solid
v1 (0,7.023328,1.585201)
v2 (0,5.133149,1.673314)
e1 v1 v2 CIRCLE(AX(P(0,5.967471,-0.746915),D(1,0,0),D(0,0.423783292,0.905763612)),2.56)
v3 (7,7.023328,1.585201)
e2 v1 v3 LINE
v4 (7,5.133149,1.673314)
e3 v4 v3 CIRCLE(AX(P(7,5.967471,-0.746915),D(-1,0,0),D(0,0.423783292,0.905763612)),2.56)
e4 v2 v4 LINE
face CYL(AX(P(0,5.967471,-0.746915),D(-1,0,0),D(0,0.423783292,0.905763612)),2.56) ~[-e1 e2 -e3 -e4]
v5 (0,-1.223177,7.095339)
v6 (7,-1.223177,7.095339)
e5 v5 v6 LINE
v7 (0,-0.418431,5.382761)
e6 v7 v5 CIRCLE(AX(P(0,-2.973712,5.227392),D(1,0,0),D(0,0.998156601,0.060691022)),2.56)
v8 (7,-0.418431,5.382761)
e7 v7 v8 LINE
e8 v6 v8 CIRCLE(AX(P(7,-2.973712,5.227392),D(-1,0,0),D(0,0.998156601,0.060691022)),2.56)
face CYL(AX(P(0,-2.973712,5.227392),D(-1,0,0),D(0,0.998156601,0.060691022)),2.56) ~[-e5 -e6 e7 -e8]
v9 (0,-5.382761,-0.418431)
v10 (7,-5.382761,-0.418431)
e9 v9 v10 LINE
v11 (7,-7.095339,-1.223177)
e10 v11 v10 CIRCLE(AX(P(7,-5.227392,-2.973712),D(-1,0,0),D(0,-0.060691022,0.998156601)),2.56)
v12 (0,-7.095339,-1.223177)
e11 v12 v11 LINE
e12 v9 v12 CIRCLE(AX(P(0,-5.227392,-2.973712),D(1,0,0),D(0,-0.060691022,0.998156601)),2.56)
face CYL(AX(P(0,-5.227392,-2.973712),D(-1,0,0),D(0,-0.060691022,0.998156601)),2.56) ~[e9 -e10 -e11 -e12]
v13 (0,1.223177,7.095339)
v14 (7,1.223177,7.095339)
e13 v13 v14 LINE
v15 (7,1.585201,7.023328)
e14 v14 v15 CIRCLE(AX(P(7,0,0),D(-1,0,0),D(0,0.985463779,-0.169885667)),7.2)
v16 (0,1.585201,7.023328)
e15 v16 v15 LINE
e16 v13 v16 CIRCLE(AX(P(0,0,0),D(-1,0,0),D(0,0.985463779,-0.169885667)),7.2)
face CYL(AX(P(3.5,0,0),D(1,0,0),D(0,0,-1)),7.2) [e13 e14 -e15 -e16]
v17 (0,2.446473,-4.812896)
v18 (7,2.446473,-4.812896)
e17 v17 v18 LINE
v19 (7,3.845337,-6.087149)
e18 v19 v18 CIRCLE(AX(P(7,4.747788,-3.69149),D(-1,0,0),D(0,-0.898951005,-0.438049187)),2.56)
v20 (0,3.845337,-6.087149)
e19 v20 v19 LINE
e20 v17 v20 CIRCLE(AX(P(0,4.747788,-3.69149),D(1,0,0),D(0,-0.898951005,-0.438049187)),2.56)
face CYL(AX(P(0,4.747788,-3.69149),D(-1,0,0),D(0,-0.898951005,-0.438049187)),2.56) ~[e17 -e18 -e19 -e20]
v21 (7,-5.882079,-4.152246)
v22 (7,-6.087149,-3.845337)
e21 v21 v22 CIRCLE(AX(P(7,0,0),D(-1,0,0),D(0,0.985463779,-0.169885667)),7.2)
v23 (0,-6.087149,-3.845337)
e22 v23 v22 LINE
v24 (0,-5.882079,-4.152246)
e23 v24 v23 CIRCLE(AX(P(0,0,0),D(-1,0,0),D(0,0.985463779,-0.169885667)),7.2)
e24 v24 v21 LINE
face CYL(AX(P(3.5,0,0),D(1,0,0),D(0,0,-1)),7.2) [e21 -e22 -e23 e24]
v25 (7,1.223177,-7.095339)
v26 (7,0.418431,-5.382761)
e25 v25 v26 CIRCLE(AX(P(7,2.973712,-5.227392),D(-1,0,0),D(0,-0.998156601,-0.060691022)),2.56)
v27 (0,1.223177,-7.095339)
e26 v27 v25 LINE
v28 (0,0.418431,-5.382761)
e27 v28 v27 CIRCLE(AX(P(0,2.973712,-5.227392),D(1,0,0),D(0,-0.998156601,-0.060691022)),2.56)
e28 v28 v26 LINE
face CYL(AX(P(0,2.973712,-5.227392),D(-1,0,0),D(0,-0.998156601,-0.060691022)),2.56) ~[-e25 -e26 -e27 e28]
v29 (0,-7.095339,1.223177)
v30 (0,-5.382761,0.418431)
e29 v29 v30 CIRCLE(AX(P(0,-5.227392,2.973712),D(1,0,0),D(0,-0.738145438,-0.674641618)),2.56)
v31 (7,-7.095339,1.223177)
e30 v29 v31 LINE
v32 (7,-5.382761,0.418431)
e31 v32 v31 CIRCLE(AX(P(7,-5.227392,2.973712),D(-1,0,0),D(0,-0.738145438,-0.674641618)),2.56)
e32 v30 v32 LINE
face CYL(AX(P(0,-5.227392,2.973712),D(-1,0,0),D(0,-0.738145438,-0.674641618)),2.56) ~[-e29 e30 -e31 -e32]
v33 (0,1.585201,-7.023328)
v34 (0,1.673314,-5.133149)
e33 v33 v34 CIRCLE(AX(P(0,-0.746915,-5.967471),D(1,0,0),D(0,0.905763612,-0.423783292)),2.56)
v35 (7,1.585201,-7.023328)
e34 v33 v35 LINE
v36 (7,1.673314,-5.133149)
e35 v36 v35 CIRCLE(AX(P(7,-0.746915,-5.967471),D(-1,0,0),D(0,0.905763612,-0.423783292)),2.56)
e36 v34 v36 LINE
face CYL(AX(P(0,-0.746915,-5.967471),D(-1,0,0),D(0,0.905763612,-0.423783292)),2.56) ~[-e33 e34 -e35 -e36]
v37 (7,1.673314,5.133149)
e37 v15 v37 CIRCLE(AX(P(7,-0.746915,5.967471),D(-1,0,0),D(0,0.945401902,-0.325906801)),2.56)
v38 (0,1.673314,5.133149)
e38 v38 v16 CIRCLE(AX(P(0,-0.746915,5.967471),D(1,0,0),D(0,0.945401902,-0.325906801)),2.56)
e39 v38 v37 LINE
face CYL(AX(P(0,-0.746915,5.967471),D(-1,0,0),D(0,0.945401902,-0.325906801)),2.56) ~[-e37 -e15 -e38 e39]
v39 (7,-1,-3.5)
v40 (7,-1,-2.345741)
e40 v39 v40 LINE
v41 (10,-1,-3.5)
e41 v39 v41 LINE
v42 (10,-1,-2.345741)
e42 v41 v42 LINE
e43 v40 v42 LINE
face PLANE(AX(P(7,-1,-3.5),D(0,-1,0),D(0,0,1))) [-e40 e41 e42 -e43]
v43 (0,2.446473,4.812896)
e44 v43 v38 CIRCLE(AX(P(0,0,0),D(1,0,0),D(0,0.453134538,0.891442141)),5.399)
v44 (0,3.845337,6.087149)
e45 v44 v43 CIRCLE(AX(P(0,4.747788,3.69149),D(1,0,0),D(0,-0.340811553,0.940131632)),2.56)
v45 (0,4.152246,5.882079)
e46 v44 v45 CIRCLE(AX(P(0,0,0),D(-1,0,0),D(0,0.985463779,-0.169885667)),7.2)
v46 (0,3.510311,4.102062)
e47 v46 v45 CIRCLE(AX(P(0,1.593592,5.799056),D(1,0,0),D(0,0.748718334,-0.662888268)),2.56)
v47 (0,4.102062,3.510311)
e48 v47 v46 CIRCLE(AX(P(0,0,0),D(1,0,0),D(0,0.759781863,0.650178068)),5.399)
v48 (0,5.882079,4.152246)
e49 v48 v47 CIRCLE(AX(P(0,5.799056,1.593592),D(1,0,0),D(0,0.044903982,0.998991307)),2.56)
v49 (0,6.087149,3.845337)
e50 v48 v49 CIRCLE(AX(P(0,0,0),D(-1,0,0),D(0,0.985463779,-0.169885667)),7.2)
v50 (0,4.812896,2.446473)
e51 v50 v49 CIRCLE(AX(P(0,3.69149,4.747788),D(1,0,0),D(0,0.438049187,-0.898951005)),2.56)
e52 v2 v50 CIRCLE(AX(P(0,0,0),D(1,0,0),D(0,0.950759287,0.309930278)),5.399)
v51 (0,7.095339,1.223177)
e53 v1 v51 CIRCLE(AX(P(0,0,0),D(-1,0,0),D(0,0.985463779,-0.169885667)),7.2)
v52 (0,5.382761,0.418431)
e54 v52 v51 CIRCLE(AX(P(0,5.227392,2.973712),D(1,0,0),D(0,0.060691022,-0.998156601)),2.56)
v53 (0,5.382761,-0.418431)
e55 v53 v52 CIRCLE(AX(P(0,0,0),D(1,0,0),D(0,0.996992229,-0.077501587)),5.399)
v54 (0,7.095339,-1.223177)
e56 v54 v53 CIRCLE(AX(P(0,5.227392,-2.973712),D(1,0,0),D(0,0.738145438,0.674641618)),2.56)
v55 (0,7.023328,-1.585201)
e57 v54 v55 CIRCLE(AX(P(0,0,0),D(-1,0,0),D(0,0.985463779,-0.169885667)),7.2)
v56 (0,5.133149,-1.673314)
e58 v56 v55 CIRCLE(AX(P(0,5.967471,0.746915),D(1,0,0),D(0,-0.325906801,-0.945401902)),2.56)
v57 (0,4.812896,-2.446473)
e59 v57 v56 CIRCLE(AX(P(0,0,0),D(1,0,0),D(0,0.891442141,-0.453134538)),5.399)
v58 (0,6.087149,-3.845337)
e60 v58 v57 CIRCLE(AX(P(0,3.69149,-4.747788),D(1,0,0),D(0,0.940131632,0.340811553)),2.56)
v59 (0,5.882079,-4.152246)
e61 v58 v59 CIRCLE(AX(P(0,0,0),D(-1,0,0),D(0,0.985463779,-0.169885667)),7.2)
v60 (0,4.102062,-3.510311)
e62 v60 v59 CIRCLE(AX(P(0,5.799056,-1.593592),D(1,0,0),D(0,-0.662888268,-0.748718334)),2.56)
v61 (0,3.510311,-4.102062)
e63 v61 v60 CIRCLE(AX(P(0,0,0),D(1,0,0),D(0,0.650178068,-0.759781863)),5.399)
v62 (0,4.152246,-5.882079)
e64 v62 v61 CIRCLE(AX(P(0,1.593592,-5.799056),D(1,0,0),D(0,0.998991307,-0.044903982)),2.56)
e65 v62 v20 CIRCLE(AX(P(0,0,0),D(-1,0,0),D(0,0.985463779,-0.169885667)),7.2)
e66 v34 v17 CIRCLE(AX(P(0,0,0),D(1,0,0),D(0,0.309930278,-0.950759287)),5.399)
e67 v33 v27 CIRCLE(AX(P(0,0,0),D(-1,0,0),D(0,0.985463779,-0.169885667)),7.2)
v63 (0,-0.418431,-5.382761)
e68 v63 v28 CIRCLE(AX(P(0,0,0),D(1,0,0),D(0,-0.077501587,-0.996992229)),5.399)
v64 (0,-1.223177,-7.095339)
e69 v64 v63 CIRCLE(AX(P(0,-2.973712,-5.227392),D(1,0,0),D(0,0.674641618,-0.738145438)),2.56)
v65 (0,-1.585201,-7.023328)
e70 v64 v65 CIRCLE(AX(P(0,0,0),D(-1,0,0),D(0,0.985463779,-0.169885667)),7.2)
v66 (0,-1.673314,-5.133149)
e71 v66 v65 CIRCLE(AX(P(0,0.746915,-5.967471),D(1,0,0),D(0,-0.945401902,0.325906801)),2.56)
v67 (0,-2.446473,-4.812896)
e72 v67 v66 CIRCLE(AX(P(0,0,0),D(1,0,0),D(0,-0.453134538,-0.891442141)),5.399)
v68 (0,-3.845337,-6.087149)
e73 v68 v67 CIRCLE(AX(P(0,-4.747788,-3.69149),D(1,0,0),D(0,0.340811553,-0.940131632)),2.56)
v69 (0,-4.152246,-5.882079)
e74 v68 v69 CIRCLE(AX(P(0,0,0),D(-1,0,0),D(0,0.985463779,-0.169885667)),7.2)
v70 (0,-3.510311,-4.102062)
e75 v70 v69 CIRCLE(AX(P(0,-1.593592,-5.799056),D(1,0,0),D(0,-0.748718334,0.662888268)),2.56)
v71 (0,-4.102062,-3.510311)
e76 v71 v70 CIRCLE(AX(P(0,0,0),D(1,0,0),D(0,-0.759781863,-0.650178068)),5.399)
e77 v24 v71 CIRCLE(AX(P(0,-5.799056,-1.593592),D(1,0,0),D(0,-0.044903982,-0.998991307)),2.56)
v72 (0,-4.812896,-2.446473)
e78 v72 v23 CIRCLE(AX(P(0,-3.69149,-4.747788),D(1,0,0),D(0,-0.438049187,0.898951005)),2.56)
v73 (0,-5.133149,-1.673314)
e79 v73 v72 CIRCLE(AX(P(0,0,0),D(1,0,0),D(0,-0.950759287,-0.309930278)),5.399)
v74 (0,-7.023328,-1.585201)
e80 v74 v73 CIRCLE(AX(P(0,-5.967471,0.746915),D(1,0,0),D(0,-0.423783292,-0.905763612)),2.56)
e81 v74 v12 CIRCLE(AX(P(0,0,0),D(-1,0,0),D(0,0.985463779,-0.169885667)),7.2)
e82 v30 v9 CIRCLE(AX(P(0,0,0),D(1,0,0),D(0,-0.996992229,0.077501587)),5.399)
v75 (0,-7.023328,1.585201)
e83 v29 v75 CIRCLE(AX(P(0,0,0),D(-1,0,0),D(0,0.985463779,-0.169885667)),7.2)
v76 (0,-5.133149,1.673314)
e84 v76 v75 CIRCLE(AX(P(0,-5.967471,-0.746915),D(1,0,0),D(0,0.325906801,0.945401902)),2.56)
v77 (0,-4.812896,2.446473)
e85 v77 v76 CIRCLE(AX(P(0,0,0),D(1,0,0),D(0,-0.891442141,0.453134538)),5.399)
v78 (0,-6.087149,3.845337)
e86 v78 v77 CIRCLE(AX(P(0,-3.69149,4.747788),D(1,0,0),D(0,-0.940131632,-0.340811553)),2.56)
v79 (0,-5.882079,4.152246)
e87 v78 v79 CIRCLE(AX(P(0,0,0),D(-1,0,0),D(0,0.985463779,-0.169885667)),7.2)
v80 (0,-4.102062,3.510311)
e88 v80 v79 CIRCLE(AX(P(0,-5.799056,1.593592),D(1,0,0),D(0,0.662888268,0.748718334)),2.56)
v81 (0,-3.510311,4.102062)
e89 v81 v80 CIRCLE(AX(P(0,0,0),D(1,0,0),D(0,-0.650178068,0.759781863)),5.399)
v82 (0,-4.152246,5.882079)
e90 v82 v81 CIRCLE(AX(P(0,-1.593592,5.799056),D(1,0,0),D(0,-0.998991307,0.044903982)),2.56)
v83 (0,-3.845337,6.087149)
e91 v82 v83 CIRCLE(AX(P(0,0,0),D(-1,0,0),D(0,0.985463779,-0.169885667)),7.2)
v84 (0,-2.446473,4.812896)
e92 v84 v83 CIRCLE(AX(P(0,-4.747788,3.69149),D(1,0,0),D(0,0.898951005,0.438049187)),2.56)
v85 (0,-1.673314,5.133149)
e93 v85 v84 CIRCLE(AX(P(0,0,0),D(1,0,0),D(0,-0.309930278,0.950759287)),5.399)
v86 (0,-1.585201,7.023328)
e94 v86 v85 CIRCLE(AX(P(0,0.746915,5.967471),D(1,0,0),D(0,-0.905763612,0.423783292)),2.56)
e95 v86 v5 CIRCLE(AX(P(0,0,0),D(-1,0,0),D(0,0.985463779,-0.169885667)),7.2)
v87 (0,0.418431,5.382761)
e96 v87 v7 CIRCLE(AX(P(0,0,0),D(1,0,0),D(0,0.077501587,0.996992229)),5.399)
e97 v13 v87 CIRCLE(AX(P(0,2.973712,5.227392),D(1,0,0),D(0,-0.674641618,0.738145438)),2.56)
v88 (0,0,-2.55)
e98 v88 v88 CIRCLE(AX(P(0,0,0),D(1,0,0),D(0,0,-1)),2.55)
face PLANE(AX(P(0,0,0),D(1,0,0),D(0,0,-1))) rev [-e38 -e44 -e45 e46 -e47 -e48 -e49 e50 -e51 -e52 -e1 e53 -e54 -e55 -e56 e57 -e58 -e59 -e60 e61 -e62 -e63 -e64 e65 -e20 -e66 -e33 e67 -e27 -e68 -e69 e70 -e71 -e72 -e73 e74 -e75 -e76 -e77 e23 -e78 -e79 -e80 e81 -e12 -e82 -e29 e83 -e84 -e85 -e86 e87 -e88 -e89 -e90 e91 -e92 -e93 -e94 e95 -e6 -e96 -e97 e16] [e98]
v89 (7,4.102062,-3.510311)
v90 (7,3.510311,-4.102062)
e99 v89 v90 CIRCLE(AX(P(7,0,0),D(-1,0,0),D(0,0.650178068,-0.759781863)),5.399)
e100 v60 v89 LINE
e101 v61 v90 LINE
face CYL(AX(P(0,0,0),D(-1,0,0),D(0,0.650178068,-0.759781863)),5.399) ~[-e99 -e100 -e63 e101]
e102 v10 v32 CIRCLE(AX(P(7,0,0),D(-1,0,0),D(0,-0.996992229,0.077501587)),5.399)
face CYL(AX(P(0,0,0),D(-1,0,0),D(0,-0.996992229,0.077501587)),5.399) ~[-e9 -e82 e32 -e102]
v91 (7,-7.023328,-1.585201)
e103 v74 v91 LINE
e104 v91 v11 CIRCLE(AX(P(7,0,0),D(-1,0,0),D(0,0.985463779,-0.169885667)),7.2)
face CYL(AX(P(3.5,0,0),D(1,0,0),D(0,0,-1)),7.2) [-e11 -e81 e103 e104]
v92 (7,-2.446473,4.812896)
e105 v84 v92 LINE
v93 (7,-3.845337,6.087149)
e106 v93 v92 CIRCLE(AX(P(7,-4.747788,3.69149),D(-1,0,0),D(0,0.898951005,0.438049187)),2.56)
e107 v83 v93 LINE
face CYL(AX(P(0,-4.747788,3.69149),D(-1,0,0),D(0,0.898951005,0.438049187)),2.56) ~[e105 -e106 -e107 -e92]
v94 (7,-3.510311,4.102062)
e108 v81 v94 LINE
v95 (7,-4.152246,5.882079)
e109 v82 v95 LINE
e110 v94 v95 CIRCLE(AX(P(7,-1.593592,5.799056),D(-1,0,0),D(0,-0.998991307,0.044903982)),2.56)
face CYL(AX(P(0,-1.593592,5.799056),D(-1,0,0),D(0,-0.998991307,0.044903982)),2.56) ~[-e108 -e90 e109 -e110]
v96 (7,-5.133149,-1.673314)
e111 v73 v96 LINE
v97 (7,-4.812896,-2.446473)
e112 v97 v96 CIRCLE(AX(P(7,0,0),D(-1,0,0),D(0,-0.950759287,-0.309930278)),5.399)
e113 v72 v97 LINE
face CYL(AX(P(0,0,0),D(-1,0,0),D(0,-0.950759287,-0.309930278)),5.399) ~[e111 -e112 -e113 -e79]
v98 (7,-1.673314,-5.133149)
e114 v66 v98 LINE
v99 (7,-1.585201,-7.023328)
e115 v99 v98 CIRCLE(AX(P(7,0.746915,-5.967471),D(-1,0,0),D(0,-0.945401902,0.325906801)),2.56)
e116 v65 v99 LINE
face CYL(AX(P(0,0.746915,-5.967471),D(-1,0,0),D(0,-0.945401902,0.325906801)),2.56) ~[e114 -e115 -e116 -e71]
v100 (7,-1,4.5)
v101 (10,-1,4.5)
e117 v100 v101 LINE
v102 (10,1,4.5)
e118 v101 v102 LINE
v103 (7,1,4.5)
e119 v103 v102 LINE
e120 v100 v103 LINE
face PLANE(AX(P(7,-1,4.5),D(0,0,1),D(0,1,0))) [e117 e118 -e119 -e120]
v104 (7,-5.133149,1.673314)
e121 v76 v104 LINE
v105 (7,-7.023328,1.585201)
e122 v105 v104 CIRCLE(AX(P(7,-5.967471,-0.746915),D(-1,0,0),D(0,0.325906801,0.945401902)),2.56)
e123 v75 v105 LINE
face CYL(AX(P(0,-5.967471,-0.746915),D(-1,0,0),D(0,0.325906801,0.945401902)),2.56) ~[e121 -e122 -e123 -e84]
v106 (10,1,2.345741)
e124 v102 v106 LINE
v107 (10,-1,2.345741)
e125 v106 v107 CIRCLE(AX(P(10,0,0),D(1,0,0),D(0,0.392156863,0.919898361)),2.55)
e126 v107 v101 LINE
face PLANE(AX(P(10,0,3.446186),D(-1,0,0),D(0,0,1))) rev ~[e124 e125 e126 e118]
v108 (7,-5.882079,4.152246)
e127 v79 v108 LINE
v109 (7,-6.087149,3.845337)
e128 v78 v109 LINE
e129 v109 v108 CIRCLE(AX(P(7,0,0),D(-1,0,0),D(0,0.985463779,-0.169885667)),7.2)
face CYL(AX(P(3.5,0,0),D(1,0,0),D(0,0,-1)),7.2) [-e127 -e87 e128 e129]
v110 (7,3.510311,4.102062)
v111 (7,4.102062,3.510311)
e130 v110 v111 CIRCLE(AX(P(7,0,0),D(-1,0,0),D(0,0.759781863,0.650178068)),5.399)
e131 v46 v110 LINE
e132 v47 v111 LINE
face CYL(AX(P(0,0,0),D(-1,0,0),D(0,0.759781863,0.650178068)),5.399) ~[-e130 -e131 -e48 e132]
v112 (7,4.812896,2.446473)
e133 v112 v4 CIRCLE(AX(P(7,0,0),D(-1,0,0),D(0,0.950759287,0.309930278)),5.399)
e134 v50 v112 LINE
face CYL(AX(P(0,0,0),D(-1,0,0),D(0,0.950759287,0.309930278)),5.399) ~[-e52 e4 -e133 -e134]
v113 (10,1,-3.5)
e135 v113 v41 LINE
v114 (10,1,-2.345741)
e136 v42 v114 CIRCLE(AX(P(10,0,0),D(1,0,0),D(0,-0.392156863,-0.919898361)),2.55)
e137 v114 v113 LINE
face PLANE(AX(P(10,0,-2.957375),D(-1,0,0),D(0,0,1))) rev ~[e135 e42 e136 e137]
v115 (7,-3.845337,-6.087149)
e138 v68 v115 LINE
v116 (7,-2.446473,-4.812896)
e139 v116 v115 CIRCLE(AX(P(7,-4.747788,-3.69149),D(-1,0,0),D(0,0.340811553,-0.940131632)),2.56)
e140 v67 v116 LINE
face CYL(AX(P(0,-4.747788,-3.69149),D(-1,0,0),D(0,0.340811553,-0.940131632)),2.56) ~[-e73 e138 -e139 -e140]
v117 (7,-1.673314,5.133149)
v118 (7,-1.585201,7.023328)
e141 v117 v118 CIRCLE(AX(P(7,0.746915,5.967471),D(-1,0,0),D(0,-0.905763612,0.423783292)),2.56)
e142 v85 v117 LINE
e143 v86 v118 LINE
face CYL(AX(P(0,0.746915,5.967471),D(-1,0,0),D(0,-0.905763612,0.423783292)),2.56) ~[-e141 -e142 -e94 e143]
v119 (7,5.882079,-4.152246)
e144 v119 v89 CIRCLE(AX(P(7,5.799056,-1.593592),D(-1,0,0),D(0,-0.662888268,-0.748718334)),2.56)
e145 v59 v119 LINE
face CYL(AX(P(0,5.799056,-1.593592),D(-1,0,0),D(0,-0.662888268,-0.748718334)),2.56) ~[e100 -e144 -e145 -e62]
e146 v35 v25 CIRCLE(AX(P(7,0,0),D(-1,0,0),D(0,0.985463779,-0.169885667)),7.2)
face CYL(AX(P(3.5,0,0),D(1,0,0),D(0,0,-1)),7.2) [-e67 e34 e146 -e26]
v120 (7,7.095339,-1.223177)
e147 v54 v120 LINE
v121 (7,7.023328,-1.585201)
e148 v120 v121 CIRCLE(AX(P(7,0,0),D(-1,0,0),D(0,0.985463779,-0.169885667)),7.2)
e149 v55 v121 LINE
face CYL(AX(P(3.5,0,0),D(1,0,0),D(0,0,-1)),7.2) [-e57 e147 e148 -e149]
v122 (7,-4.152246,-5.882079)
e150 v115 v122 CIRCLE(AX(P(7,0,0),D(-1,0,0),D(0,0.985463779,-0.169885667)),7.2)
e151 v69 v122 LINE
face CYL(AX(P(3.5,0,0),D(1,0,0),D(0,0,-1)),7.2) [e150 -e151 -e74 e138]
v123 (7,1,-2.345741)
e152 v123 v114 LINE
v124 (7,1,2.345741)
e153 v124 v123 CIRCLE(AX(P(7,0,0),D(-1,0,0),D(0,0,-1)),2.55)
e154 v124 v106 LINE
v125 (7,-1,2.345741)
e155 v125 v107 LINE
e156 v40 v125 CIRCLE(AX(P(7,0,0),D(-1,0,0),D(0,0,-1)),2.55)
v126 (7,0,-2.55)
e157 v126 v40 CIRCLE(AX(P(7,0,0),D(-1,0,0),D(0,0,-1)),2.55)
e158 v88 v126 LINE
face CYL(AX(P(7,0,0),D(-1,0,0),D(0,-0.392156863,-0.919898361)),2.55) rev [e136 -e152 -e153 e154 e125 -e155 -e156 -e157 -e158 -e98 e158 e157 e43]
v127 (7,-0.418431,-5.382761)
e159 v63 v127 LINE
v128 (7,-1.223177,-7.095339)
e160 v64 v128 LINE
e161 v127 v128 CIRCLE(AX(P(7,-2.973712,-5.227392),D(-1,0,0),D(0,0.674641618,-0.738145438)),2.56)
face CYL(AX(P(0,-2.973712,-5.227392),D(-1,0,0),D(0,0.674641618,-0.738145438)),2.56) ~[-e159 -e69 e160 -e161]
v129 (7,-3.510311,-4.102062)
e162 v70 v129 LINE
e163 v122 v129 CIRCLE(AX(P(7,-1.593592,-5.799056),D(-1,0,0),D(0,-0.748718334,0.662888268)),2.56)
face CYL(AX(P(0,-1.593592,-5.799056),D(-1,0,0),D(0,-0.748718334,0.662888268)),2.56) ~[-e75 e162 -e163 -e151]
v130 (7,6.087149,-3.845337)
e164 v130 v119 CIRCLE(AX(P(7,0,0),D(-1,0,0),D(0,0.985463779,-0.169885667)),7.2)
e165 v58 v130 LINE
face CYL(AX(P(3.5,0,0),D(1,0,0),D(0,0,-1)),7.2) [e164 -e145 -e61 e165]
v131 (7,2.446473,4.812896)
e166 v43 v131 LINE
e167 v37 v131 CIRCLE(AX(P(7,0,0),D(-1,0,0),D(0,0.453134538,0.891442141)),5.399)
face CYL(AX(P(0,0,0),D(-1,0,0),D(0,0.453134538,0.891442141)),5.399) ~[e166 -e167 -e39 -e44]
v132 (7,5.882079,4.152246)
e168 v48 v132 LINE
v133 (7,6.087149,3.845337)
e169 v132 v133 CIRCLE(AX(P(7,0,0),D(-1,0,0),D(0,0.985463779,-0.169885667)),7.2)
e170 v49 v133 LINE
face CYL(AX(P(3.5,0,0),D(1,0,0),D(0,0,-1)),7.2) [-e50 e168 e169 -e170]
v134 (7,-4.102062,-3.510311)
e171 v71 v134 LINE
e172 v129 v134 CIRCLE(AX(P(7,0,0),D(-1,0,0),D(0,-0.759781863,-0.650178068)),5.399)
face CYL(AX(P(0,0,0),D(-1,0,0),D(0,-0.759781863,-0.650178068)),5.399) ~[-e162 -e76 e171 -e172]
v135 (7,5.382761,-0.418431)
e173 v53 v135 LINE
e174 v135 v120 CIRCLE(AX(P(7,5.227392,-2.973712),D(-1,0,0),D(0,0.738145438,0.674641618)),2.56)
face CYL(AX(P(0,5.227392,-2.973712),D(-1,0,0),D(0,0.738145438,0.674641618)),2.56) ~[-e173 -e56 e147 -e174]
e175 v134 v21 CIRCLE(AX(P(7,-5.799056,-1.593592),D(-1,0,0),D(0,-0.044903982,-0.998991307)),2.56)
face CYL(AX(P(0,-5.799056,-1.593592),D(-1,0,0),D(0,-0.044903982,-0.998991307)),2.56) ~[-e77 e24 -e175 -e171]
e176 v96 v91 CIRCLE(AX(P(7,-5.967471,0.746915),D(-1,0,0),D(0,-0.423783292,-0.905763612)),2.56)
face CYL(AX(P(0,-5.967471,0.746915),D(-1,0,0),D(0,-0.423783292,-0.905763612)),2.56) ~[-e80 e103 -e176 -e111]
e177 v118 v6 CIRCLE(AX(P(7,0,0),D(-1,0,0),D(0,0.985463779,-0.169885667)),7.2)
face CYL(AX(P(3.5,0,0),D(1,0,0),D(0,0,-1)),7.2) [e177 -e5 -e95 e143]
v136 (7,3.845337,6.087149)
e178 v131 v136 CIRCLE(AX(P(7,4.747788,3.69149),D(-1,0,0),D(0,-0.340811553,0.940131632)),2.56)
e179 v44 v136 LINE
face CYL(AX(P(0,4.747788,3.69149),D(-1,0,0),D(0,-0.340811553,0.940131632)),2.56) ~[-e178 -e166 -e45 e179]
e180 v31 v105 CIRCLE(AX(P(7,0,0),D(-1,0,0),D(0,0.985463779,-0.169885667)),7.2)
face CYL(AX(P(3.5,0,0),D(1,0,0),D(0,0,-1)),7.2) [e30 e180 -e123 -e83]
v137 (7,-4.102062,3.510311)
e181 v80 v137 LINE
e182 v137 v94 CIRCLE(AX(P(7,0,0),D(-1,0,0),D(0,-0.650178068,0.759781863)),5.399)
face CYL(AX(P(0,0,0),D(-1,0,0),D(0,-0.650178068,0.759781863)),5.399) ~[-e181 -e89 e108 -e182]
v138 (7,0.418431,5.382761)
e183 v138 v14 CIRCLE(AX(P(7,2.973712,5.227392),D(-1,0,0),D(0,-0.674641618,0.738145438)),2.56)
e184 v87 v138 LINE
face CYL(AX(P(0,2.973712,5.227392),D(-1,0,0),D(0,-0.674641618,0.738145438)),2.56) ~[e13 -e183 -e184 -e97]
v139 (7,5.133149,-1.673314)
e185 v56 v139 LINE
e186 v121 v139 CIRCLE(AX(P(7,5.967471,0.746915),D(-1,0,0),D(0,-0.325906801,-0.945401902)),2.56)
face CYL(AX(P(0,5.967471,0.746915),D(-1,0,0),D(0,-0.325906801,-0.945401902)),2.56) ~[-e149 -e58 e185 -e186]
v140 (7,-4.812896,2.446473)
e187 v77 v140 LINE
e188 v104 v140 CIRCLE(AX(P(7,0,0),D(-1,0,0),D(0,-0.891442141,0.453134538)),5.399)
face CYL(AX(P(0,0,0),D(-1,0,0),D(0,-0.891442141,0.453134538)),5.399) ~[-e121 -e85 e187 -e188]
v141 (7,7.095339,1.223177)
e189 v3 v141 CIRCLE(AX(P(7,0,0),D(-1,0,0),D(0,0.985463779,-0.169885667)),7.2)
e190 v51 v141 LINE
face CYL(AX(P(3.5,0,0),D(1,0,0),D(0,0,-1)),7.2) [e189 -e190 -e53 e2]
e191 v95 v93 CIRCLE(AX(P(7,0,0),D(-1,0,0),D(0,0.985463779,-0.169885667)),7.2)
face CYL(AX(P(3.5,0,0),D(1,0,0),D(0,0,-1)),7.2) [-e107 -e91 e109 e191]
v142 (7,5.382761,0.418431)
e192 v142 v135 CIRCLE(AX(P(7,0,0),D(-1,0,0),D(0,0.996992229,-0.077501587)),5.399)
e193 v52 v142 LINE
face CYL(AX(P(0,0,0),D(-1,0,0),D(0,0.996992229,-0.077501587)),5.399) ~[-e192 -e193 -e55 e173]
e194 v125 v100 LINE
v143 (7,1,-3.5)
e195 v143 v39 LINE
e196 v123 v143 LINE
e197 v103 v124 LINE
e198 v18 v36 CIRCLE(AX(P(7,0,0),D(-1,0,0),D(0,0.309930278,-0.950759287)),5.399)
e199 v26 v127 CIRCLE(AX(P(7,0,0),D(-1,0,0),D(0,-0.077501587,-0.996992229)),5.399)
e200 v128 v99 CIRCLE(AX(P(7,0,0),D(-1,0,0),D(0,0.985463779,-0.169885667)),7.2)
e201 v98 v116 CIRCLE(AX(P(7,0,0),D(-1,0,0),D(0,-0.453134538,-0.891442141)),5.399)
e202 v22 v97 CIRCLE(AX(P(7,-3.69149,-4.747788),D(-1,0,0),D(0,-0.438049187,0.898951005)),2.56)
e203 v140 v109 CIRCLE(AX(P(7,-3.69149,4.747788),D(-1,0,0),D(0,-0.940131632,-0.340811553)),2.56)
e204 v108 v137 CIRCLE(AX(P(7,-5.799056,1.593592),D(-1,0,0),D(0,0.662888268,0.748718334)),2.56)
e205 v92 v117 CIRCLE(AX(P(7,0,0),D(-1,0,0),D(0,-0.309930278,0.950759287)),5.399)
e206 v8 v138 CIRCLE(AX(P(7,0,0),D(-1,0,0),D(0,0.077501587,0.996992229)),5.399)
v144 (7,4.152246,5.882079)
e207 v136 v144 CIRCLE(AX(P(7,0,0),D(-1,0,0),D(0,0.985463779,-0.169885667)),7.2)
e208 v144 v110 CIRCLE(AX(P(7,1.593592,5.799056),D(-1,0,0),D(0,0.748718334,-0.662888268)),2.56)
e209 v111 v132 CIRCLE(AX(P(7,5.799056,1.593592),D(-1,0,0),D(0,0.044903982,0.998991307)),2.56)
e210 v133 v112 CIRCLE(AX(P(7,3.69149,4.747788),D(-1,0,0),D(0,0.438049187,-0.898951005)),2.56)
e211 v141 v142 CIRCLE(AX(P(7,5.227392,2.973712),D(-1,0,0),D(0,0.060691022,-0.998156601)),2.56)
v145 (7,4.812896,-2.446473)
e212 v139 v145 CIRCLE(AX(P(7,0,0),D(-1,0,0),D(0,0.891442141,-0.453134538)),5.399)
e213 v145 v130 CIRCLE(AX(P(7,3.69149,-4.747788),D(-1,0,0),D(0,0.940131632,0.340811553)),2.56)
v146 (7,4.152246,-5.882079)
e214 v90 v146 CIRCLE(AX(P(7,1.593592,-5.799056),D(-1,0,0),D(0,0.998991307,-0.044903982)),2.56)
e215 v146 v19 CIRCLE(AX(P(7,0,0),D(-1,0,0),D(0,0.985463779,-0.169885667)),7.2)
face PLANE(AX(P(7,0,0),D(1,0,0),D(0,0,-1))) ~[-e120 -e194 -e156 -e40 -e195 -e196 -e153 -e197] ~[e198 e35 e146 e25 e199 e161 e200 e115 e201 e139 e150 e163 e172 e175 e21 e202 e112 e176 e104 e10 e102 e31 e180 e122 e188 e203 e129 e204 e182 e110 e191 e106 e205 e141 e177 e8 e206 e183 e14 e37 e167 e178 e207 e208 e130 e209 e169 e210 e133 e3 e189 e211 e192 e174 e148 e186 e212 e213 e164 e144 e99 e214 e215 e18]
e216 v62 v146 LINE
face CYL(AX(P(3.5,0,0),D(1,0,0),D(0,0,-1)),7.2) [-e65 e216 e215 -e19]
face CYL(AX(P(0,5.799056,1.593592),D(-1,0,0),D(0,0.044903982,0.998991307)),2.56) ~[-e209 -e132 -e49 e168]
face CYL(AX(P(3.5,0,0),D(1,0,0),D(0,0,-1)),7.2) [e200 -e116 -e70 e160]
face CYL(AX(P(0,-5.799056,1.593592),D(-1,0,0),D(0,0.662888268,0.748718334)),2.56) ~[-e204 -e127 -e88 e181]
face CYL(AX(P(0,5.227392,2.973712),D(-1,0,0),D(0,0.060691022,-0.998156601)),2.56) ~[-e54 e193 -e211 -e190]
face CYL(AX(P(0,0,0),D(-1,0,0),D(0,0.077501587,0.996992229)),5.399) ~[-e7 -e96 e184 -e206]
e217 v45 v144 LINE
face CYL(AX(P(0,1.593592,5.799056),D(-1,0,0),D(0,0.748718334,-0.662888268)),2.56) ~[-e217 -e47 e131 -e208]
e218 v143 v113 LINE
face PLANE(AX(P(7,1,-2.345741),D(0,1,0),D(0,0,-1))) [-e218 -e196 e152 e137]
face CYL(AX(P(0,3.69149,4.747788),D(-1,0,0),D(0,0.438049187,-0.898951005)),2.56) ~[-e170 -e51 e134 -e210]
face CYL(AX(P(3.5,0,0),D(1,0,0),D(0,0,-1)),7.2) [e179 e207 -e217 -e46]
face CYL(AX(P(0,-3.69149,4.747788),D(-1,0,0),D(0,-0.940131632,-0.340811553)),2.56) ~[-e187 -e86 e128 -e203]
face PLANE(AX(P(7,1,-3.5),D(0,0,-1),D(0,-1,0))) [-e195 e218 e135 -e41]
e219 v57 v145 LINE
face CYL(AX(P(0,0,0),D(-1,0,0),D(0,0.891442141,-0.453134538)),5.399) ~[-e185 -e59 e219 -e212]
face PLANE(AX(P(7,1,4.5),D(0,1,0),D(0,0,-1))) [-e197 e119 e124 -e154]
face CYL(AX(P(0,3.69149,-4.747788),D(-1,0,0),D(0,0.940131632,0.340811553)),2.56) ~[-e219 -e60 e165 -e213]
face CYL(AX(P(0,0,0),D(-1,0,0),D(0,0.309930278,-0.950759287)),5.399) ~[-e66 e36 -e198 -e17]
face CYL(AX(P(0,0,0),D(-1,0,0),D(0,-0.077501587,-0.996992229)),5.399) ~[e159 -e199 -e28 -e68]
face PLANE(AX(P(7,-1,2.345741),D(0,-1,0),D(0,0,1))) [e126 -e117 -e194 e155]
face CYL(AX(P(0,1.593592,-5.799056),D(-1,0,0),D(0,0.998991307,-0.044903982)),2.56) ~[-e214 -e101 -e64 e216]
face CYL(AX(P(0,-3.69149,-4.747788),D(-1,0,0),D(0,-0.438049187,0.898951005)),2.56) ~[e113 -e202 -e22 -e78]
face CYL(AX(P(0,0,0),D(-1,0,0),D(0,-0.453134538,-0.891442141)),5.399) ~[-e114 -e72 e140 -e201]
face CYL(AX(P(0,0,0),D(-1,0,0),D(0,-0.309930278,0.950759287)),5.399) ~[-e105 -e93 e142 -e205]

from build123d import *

# Parameters (mm, degrees)
BASPROSKE_W         = 7
BASPROSKE_H         = 7.2
TOOTHCUT_DEPTH      = 13.356374873
TEETHCUTS_COUNT     = 16
TEETHCUTS_ANGLE     = 337.5
BORSKE_R            = 0.5
BORE_DEPTH          = 50.0000508
SKETCH_1_R          = 2.55
CUT_EXTRUDE_1_DEPTH = 13.234691538
EXTRUDE_1_DEPTH     = 3


with BuildPart() as part:
    # BasProSke → Base-Revolve (revolve)
    with BuildSketch(Plane(origin=(0, 0, 0), x_dir=(1, 0, 0), z_dir=(0, 1, 0))):
        with Locations((3.5, 3.6)):
            Rectangle(BASPROSKE_W, BASPROSKE_H)
    revolve(axis=Axis((-10, 0, 0), (1, 0, 0)))

    # TooCutSke → ToothCut (cut, through all)
    with BuildSketch(Plane(origin=(0, 0, 0), x_dir=(0, 0, -1), z_dir=(1, 0, 0))):
        with BuildLine():
            ThreePointArc((0.418431057, 5.382761043), (0, 5.399), (-0.418431057, 5.382761043))
            ThreePointArc((-0.418431057, 5.382761043), (-0.663605074, 6.330572066), (-1.246629414, 7.117044349))
            ThreePointArc((-1.246629414, 7.117044349), (0, 7.2254), (1.246629414, 7.117044349))
            ThreePointArc((1.246629414, 7.117044349), (0.663605074, 6.330572066), (0.418431057, 5.382761043))
        make_face()
    toothcut = extrude(amount=TOOTHCUT_DEPTH, mode=Mode.SUBTRACT)

    # TeethCuts: ToothCut ×16 about axis
    teethcuts_axis = Axis((-10, 0, 0), (1, 0, 0))
    for i in range(1, TEETHCUTS_COUNT):
        add(toothcut.rotate(teethcuts_axis, i * TEETHCUTS_ANGLE / (TEETHCUTS_COUNT - 1)), mode=Mode.SUBTRACT)

    # BorSke → Bore (cut, symmetric)
    with BuildSketch(Plane(origin=(0, 0, 0), x_dir=(0, 0, -1), z_dir=(1, 0, 0))):
        Circle(BORSKE_R)
    extrude(amount=BORE_DEPTH, both=True, mode=Mode.SUBTRACT)

    # 草图1 → 切除-拉伸1 (cut, through all)
    with BuildSketch(Plane(origin=(0, 0, 0), x_dir=(0, 0, -1), z_dir=(1, 0, 0))):
        Circle(SKETCH_1_R)
    extrude(amount=CUT_EXTRUDE_1_DEPTH, mode=Mode.SUBTRACT)

    # 草图2 → 凸台-拉伸1 (add)
    with BuildSketch(Plane.ZY.offset(-7)):
        with BuildLine():
            Line((2.345740821, -1), (4.5, -1))
            Line((4.5, -1), (4.5, 1))
            Line((4.5, 1), (2.345740821, 1))
            ThreePointArc((2.345740821, 1), (2.55, 0), (2.345740821, -1))
        make_face()
        with BuildLine():
            Line((-3.5, -1), (-2.345740821, -1))
            ThreePointArc((-2.345740821, -1), (-2.55, 0), (-2.345740821, 1))
            Line((-2.345740821, 1), (-3.5, 1))
            Line((-3.5, 1), (-3.5, -1))
        make_face()
    extrude(amount=-EXTRUDE_1_DEPTH)


solid = part.part
